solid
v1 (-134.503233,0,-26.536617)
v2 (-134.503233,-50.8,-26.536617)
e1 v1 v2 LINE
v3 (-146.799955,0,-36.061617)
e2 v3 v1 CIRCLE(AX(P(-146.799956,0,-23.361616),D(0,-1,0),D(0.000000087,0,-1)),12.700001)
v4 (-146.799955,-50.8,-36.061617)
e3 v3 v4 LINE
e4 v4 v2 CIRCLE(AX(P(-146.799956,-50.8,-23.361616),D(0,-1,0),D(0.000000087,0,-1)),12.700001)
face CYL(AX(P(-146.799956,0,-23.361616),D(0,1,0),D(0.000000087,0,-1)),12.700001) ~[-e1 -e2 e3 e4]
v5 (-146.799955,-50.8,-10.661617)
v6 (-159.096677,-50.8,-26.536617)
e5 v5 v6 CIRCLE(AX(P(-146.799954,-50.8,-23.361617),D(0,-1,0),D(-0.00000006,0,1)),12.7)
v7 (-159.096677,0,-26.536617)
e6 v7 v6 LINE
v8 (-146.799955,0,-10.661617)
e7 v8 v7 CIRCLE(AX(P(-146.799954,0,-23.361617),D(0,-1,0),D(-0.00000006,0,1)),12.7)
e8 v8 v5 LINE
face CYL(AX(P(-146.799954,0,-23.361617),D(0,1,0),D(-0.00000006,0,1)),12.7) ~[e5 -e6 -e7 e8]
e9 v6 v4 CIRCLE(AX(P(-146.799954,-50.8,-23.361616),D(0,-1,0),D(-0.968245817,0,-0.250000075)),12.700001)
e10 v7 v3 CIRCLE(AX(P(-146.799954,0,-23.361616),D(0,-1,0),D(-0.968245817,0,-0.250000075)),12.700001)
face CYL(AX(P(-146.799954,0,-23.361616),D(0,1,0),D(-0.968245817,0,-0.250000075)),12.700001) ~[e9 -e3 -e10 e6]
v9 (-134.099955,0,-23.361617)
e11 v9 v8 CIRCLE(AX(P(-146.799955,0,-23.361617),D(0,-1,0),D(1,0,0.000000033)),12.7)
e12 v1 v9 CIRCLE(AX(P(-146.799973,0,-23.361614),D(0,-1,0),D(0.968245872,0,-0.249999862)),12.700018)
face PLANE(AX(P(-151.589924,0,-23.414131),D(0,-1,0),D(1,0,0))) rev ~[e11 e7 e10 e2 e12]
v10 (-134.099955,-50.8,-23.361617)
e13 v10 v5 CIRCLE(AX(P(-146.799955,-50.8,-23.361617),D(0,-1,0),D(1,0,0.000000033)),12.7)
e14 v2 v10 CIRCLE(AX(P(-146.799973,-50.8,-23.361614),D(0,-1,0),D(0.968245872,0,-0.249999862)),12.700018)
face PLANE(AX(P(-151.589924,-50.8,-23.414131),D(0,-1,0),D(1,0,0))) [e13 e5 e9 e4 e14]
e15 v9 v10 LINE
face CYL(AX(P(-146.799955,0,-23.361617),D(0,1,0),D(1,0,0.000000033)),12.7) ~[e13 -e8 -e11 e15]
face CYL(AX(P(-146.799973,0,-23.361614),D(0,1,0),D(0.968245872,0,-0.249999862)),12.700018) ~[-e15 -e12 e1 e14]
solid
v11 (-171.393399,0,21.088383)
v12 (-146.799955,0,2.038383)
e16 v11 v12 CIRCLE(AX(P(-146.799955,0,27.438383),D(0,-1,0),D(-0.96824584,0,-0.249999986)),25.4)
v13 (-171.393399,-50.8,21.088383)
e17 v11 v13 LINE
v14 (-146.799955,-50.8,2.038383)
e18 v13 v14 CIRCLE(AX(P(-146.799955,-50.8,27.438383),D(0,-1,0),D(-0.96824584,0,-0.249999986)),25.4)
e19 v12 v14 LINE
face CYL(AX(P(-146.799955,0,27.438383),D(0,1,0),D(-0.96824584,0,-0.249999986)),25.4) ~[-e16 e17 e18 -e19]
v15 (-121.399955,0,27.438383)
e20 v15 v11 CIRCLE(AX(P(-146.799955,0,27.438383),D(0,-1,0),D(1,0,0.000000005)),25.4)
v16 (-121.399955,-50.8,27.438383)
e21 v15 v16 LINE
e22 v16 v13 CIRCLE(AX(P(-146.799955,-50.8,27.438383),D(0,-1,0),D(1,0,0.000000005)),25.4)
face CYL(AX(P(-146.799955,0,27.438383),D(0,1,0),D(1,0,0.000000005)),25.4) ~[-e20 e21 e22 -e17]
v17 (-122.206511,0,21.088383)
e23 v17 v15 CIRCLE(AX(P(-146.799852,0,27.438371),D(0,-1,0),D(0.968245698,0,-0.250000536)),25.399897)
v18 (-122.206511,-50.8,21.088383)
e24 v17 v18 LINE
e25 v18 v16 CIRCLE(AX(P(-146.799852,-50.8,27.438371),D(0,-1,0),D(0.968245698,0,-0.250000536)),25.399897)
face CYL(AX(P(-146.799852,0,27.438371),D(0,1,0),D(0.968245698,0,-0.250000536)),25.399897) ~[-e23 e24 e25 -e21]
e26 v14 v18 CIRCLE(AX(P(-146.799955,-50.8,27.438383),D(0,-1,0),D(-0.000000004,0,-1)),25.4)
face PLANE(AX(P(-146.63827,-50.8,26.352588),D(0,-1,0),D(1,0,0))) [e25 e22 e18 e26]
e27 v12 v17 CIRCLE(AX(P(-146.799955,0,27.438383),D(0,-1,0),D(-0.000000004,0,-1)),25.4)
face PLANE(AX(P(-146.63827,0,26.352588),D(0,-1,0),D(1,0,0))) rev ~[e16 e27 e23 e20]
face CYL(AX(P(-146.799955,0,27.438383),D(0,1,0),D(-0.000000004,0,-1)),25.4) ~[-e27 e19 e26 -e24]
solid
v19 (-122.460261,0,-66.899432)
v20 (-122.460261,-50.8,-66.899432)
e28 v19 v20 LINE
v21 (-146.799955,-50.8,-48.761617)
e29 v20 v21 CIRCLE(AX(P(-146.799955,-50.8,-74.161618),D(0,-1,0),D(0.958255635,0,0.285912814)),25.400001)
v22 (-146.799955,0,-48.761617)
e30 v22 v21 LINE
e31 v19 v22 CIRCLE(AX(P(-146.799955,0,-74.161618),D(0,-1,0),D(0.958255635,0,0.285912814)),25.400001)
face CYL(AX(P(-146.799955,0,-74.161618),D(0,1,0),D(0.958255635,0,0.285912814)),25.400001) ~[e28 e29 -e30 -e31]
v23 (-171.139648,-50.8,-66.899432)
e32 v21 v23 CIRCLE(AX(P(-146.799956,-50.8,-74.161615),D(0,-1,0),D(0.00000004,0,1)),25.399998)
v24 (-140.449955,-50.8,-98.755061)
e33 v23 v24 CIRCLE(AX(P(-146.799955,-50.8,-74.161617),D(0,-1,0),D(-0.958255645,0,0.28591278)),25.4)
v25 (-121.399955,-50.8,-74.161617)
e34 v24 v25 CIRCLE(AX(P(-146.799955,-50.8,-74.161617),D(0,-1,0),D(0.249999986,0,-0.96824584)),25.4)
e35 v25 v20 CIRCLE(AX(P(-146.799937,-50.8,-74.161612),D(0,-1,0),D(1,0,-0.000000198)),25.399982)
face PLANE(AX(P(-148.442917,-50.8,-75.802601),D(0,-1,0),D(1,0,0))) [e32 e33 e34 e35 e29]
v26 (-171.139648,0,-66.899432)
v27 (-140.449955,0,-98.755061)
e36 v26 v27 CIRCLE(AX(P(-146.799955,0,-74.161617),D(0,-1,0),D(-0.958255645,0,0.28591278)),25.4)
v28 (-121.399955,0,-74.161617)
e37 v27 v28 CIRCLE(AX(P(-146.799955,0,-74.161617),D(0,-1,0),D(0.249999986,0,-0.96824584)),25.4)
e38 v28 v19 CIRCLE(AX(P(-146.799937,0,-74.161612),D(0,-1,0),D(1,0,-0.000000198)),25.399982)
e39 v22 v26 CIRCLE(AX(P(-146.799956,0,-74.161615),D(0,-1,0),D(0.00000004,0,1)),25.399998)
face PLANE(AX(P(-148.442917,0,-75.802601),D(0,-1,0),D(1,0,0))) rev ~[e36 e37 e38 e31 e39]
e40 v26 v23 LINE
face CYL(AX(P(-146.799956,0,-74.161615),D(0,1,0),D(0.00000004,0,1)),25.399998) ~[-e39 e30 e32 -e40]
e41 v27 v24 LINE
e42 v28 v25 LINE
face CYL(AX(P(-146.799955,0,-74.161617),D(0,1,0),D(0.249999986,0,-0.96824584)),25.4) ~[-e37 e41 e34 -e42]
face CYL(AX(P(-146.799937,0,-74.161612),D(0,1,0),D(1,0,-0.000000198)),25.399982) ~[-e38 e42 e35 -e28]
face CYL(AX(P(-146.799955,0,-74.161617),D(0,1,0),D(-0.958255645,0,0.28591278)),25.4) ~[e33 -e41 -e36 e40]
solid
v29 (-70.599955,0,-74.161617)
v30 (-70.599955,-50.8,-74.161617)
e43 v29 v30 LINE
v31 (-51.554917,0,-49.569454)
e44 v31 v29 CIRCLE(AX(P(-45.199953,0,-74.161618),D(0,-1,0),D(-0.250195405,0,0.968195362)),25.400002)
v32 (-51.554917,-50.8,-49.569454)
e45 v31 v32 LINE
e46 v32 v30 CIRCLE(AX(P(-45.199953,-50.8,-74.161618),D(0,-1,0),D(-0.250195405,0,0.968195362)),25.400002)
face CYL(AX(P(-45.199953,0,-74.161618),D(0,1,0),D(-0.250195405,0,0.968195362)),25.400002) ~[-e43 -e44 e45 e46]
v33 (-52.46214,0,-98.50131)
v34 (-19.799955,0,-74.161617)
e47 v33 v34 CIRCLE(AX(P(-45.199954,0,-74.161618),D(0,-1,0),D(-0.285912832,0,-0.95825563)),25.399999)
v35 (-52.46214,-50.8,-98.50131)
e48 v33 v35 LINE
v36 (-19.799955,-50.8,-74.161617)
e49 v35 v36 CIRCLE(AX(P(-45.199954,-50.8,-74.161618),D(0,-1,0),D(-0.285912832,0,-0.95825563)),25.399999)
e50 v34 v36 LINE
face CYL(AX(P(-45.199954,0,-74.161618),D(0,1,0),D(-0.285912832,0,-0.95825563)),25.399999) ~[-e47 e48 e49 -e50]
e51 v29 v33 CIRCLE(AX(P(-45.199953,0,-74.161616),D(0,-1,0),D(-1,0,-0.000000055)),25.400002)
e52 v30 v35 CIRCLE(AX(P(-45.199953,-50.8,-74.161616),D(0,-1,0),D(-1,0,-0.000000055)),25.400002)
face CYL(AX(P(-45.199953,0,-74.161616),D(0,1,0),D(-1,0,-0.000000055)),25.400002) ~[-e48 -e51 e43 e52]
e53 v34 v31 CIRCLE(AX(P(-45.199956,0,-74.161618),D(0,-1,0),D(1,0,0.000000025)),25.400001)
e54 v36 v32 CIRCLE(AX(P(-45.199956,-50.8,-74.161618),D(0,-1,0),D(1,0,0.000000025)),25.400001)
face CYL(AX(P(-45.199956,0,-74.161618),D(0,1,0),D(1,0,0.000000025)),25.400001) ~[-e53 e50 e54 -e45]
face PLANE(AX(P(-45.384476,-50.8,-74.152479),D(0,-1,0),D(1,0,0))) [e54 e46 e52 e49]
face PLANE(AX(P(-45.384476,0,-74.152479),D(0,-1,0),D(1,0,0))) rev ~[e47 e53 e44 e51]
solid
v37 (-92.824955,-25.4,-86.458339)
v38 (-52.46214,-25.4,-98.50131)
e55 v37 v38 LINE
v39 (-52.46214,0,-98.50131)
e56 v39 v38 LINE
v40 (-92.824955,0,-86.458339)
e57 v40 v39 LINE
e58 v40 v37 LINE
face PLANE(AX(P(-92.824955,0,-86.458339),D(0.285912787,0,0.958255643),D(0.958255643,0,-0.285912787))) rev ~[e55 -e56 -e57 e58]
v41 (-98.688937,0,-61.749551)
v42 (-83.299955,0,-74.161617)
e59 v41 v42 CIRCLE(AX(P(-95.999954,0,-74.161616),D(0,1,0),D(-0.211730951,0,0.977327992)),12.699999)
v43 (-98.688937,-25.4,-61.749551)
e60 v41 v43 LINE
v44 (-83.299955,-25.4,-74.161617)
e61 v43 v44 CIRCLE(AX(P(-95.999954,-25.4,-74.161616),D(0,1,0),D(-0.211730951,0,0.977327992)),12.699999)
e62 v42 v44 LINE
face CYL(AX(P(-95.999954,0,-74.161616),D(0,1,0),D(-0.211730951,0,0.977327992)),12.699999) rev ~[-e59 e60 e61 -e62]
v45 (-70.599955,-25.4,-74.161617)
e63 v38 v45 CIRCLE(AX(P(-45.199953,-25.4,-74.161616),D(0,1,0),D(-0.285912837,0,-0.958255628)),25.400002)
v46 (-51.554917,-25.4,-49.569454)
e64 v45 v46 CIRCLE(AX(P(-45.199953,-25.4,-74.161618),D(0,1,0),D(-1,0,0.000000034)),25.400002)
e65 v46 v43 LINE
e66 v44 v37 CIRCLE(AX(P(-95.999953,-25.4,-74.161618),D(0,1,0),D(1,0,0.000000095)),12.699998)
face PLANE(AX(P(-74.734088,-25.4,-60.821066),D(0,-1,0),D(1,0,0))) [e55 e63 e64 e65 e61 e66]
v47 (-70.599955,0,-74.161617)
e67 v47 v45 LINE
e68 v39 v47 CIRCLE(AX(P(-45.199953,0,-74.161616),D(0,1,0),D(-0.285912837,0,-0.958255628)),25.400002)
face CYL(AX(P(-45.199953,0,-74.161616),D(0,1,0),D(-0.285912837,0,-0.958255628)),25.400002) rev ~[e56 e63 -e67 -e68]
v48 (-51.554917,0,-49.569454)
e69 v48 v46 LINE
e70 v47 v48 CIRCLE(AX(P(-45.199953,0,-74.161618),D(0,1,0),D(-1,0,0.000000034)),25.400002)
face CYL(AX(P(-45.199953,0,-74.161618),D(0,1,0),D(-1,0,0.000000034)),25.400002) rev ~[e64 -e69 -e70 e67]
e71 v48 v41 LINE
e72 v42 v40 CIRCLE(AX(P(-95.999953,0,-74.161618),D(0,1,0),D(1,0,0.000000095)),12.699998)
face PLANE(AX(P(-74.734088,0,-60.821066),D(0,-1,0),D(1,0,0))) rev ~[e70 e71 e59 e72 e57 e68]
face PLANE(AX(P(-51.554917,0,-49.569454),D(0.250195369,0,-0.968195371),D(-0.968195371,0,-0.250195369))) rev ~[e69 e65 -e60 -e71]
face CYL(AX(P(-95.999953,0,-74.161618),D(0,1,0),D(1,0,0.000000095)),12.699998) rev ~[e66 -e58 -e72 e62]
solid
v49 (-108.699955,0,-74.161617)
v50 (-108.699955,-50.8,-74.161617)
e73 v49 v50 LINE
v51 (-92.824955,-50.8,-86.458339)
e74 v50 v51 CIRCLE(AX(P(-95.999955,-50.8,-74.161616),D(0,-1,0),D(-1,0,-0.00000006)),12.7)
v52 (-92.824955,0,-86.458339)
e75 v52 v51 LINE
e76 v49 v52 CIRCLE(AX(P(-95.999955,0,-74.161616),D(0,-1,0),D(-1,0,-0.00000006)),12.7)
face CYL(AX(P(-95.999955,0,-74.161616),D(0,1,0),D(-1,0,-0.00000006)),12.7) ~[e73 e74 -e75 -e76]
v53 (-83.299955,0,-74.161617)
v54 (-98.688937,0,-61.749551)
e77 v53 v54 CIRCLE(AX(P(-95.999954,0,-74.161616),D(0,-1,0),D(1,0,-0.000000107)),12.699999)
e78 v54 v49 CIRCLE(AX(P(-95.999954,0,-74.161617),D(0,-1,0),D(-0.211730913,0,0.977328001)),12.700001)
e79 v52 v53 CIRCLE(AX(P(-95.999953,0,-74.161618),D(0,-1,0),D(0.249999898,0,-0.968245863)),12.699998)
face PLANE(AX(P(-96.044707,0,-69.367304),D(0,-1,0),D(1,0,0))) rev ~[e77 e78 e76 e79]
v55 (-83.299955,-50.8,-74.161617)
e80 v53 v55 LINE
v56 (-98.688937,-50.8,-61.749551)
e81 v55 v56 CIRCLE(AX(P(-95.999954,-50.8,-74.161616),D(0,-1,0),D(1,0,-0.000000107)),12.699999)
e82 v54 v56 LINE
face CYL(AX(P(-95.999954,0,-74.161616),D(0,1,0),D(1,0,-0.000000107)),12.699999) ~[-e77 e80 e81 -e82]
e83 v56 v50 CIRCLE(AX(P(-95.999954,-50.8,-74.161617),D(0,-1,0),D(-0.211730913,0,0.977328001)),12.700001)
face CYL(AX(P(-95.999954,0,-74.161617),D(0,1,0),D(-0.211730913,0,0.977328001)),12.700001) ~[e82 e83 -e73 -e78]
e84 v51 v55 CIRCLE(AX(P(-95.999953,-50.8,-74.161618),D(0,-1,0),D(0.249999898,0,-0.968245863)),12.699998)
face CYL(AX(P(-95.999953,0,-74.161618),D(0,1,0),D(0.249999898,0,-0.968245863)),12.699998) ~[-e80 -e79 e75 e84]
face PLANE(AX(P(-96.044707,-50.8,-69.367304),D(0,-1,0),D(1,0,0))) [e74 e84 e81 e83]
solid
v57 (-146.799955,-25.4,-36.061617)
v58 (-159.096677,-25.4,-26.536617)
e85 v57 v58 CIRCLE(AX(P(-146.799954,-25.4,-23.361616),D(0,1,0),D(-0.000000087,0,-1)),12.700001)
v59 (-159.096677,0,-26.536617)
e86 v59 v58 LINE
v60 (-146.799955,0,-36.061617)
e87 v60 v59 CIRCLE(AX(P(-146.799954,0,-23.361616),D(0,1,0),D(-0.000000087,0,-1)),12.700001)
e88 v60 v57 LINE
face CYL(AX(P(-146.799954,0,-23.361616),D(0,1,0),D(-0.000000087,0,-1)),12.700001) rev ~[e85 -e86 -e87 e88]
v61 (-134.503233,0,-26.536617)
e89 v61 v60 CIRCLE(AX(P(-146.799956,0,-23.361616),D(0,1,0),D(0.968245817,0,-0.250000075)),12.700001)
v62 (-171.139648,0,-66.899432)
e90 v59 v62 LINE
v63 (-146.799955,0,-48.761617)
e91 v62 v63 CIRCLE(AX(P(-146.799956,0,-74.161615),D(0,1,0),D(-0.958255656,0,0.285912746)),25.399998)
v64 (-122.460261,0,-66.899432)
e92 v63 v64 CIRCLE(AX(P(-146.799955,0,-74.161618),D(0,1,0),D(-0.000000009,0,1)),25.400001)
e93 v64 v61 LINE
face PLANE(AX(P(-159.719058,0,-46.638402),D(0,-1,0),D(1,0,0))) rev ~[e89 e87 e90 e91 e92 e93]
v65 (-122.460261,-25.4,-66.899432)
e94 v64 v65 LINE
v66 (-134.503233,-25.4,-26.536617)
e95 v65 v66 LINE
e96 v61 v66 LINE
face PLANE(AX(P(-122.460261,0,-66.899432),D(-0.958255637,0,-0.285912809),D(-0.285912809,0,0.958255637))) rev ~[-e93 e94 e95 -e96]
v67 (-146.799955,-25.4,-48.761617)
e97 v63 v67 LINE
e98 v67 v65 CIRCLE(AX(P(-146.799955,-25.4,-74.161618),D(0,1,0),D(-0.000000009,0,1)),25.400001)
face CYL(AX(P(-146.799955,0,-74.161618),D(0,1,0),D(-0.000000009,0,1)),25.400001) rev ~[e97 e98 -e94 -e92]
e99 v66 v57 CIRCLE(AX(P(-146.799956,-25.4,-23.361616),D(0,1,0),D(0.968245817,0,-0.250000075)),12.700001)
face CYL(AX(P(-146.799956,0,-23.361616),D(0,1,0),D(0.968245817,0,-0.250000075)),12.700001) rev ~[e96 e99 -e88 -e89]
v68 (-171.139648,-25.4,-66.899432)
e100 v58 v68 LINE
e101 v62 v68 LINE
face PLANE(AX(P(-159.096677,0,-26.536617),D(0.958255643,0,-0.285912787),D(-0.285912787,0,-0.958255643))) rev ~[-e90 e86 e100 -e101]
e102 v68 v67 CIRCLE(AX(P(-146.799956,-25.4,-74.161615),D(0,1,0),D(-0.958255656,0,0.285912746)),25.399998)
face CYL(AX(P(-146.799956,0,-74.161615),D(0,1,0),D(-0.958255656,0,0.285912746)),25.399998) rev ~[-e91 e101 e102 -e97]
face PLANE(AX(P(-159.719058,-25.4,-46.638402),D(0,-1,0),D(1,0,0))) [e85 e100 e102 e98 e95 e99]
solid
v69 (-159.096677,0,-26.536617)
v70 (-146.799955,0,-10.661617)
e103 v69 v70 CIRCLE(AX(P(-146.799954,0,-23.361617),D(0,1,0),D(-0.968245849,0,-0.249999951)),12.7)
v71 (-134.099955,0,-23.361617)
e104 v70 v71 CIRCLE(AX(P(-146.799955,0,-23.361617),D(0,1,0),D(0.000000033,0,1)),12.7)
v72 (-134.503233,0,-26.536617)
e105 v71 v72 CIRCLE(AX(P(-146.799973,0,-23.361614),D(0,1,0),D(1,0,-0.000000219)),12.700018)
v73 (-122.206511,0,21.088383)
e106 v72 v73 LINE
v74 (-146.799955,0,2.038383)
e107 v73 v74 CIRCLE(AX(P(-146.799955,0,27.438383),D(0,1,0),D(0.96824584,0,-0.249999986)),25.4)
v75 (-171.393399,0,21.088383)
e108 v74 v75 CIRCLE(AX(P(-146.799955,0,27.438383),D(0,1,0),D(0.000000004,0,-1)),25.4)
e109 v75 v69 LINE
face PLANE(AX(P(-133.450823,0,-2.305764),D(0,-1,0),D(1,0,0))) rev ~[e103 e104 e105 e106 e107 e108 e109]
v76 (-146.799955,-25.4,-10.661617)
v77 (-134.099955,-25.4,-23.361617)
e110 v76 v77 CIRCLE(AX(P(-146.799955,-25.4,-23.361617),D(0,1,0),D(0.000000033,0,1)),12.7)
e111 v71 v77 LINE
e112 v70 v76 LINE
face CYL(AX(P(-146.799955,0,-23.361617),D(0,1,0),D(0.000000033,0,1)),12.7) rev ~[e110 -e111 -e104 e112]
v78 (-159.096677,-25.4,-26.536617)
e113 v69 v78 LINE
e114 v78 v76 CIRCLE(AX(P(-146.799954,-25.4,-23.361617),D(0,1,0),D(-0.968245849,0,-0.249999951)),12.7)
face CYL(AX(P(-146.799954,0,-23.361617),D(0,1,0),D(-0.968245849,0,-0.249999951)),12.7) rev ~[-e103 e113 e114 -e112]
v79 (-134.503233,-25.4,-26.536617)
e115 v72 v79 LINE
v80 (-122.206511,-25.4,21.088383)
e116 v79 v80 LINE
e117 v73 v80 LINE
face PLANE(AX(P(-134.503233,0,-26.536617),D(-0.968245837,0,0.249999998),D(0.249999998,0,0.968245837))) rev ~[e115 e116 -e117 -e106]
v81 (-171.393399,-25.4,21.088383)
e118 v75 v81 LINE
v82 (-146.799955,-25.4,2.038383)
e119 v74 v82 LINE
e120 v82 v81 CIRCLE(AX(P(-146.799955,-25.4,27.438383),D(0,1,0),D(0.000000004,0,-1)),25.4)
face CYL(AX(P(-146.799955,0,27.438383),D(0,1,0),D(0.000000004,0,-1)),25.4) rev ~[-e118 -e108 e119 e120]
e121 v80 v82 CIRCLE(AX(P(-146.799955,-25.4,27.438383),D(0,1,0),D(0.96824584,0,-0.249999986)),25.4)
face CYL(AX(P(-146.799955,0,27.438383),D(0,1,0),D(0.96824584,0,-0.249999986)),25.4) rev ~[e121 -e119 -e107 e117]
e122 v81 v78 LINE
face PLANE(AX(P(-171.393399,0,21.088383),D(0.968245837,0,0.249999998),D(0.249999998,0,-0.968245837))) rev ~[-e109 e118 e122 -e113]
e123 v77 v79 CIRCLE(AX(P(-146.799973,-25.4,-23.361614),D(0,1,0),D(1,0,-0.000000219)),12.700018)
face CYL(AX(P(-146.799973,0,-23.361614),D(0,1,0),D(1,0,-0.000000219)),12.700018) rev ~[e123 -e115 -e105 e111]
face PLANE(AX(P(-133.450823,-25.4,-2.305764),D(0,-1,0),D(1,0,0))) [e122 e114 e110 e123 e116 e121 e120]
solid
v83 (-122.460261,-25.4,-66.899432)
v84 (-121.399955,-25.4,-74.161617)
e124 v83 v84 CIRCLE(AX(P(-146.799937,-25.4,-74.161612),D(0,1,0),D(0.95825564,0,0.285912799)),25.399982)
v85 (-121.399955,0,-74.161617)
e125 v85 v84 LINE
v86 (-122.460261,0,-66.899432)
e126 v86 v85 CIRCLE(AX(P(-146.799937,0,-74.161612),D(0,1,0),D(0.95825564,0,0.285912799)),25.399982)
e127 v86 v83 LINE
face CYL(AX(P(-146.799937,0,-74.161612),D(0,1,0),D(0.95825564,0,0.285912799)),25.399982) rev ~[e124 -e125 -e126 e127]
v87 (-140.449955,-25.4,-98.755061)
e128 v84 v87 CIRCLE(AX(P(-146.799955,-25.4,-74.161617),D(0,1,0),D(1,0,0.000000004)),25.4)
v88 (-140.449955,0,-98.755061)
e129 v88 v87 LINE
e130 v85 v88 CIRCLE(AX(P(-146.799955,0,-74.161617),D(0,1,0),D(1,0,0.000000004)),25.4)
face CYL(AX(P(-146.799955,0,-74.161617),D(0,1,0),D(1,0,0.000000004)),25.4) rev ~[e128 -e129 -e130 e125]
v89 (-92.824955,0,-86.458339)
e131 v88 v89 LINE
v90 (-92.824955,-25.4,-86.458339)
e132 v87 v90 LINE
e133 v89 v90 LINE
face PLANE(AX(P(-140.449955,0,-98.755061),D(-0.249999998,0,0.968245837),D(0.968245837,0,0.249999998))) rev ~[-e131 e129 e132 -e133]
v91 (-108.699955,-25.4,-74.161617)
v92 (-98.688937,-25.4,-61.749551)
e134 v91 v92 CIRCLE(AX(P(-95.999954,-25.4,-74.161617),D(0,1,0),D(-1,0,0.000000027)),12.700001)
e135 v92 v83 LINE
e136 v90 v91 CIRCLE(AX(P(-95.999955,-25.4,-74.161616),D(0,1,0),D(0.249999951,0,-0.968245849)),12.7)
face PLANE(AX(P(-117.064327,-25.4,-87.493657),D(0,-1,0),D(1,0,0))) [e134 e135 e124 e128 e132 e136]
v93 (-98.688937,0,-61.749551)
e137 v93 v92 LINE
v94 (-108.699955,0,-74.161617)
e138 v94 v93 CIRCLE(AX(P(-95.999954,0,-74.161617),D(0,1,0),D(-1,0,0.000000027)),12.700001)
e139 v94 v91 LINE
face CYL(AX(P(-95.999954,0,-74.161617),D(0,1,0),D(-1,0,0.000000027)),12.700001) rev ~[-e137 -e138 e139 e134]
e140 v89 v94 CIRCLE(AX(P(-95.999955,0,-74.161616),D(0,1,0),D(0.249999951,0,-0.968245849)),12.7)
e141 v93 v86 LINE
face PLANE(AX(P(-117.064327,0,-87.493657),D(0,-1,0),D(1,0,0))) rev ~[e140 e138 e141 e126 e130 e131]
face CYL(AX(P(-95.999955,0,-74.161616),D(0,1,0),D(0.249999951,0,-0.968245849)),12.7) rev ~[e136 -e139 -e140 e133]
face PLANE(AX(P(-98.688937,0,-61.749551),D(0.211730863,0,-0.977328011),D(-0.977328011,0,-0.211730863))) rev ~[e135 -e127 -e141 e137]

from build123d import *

# Parameters (mm, degrees)
F1_DEPTH = 50.8
F2_DEPTH = 25.4


with BuildPart() as f1:
    # F0 (on Front) → F1 (new body)
    with BuildSketch(Plane.XZ):
        with BuildLine():
            ThreePointArc((-146.799955, 2.038383), (-131.245695, 7.35792), (-122.206511, 21.088383))
            ThreePointArc((-122.206511, 21.088383), (-121.6024, 24.237874), (-121.399955, 27.438383))
            ThreePointArc((-121.399955, 27.438383), (-150.000464, 52.635937), (-171.393399, 21.088383))
            ThreePointArc((-171.393399, 21.088383), (-162.354215, 7.35792), (-146.799955, 2.038383))
        make_face()
        with BuildLine():
            ThreePointArc((-159.096677, -26.536617), (-154.577085, -33.401848), (-146.799955, -36.061617))
            Line((-146.799955, -36.061617), (-146.799955, -23.361617))
            Line((-146.799955, -23.361617), (-146.799955, -10.661617))
            ThreePointArc((-146.799955, -10.661617), (-156.840186, -15.584487), (-159.096677, -26.536617))
        make_face()
        with BuildLine():
            Line((-146.799955, -23.361617), (-146.799955, -36.061617))
            ThreePointArc((-146.799955, -36.061617), (-139.022825, -33.401848), (-134.503233, -26.536617))
            ThreePointArc((-134.503233, -26.536617), (-134.201178, -24.961871), (-134.099955, -23.361617))
            ThreePointArc((-134.099955, -23.361617), (-137.819699, -14.381361), (-146.799955, -10.661617))
            Line((-146.799955, -10.661617), (-146.799955, -23.361617))
        make_face()
        with BuildLine():
            Line((-121.399955, -74.161617), (-146.799955, -74.161617))
            Line((-146.799955, -74.161617), (-146.799955, -48.761617))
            ThreePointArc((-146.799955, -48.761617), (-161.977249, -53.794738), (-171.139648, -66.899432))
            ThreePointArc((-171.139648, -66.899432), (-165.092099, -91.784257), (-140.449955, -98.755061))
            ThreePointArc((-140.449955, -98.755061), (-126.719492, -89.715877), (-121.399955, -74.161617))
        make_face()
        with BuildLine():
            Line((-146.799955, -48.761617), (-146.799955, -74.161617))
            Line((-146.799955, -74.161617), (-121.399955, -74.161617))
            ThreePointArc((-121.399955, -74.161617), (-121.666429, -70.492026), (-122.460261, -66.899432))
            ThreePointArc((-122.460261, -66.899432), (-131.622661, -53.794738), (-146.799955, -48.761617))
        make_face()
        with BuildLine():
            ThreePointArc((-98.688937, -61.749551), (-105.885299, -66.188539), (-108.699955, -74.161617))
            Line((-108.699955, -74.161617), (-95.999955, -74.161617))
            Line((-95.999955, -74.161617), (-83.299955, -74.161617))
            ThreePointArc((-83.299955, -74.161617), (-88.026877, -64.276272), (-98.688937, -61.749551))
        make_face()
        with BuildLine():
            ThreePointArc((-19.799955, -74.161617), (-29.647721, -54.079585), (-51.554917, -49.569454))
            ThreePointArc((-51.554917, -49.569454), (-65.281987, -58.609383), (-70.599955, -74.161617))
            ThreePointArc((-70.599955, -74.161617), (-65.566833, -89.338911), (-52.46214, -98.50131))
            ThreePointArc((-52.46214, -98.50131), (-30.022661, -94.528496), (-19.799955, -74.161617))
        make_face()
        with BuildLine():
            Line((-95.999955, -74.161617), (-108.699955, -74.161617))
            ThreePointArc((-108.699955, -74.161617), (-103.777085, -84.201848), (-92.824955, -86.458339))
            ThreePointArc((-92.824955, -86.458339), (-85.959723, -81.938747), (-83.299955, -74.161617))
            Line((-83.299955, -74.161617), (-95.999955, -74.161617))
        make_face()
    extrude(amount=F1_DEPTH)


with BuildPart() as f2:
    # F0 (on Front) → F2 (new body)
    with BuildSketch(Plane.XZ):
        with BuildLine():
            ThreePointArc((-134.099955, -23.361617), (-134.201178, -24.961871), (-134.503233, -26.536617))
            Line((-134.503233, -26.536617), (-122.206511, 21.088383))
            ThreePointArc((-122.206511, 21.088383), (-131.245695, 7.35792), (-146.799955, 2.038383))
            Line((-146.799955, 2.038383), (-146.799955, -10.661617))
            ThreePointArc((-146.799955, -10.661617), (-137.819699, -14.381361), (-134.099955, -23.361617))
        make_face()
        with BuildLine():
            Line((-171.393399, 21.088383), (-159.096677, -26.536617))
            ThreePointArc((-159.096677, -26.536617), (-156.840186, -15.584487), (-146.799955, -10.661617))
            Line((-146.799955, -10.661617), (-146.799955, 2.038383))
            ThreePointArc((-146.799955, 2.038383), (-162.354215, 7.35792), (-171.393399, 21.088383))
        make_face()
        with BuildLine():
            ThreePointArc((-171.139648, -66.899432), (-161.977249, -53.794738), (-146.799955, -48.761617))
            Line((-146.799955, -48.761617), (-146.799955, -36.061617))
            ThreePointArc((-146.799955, -36.061617), (-154.577085, -33.401848), (-159.096677, -26.536617))
            Line((-159.096677, -26.536617), (-171.139648, -66.899432))
        make_face()
        with BuildLine():
            Line((-146.799955, -36.061617), (-146.799955, -48.761617))
            ThreePointArc((-146.799955, -48.761617), (-131.622661, -53.794738), (-122.460261, -66.899432))
            Line((-122.460261, -66.899432), (-134.503233, -26.536617))
            ThreePointArc((-134.503233, -26.536617), (-139.022825, -33.401848), (-146.799955, -36.061617))
        make_face()
        with BuildLine():
            Line((-51.554917, -49.569454), (-98.688937, -61.749551))
            ThreePointArc((-98.688937, -61.749551), (-88.026877, -64.276272), (-83.299955, -74.161617))
            Line((-83.299955, -74.161617), (-70.599955, -74.161617))
            ThreePointArc((-70.599955, -74.161617), (-65.281987, -58.609383), (-51.554917, -49.569454))
        make_face()
        with BuildLine():
            ThreePointArc((-83.299955, -74.161617), (-85.959723, -81.938747), (-92.824955, -86.458339))
            Line((-92.824955, -86.458339), (-52.46214, -98.50131))
            ThreePointArc((-52.46214, -98.50131), (-65.566833, -89.338911), (-70.599955, -74.161617))
            Line((-70.599955, -74.161617), (-83.299955, -74.161617))
        make_face()
        with BuildLine():
            Line((-108.699955, -74.161617), (-121.399955, -74.161617))
            ThreePointArc((-121.399955, -74.161617), (-126.719492, -89.715877), (-140.449955, -98.755061))
            Line((-140.449955, -98.755061), (-92.824955, -86.458339))
            ThreePointArc((-92.824955, -86.458339), (-103.777085, -84.201848), (-108.699955, -74.161617))
        make_face()
        with BuildLine():
            ThreePointArc((-122.460261, -66.899432), (-121.666429, -70.492026), (-121.399955, -74.161617))
            Line((-121.399955, -74.161617), (-108.699955, -74.161617))
            ThreePointArc((-108.699955, -74.161617), (-105.885299, -66.188539), (-98.688937, -61.749551))
            Line((-98.688937, -61.749551), (-122.460261, -66.899432))
        make_face()
    extrude(amount=F2_DEPTH)


solid = Compound([f1.part, f2.part])
